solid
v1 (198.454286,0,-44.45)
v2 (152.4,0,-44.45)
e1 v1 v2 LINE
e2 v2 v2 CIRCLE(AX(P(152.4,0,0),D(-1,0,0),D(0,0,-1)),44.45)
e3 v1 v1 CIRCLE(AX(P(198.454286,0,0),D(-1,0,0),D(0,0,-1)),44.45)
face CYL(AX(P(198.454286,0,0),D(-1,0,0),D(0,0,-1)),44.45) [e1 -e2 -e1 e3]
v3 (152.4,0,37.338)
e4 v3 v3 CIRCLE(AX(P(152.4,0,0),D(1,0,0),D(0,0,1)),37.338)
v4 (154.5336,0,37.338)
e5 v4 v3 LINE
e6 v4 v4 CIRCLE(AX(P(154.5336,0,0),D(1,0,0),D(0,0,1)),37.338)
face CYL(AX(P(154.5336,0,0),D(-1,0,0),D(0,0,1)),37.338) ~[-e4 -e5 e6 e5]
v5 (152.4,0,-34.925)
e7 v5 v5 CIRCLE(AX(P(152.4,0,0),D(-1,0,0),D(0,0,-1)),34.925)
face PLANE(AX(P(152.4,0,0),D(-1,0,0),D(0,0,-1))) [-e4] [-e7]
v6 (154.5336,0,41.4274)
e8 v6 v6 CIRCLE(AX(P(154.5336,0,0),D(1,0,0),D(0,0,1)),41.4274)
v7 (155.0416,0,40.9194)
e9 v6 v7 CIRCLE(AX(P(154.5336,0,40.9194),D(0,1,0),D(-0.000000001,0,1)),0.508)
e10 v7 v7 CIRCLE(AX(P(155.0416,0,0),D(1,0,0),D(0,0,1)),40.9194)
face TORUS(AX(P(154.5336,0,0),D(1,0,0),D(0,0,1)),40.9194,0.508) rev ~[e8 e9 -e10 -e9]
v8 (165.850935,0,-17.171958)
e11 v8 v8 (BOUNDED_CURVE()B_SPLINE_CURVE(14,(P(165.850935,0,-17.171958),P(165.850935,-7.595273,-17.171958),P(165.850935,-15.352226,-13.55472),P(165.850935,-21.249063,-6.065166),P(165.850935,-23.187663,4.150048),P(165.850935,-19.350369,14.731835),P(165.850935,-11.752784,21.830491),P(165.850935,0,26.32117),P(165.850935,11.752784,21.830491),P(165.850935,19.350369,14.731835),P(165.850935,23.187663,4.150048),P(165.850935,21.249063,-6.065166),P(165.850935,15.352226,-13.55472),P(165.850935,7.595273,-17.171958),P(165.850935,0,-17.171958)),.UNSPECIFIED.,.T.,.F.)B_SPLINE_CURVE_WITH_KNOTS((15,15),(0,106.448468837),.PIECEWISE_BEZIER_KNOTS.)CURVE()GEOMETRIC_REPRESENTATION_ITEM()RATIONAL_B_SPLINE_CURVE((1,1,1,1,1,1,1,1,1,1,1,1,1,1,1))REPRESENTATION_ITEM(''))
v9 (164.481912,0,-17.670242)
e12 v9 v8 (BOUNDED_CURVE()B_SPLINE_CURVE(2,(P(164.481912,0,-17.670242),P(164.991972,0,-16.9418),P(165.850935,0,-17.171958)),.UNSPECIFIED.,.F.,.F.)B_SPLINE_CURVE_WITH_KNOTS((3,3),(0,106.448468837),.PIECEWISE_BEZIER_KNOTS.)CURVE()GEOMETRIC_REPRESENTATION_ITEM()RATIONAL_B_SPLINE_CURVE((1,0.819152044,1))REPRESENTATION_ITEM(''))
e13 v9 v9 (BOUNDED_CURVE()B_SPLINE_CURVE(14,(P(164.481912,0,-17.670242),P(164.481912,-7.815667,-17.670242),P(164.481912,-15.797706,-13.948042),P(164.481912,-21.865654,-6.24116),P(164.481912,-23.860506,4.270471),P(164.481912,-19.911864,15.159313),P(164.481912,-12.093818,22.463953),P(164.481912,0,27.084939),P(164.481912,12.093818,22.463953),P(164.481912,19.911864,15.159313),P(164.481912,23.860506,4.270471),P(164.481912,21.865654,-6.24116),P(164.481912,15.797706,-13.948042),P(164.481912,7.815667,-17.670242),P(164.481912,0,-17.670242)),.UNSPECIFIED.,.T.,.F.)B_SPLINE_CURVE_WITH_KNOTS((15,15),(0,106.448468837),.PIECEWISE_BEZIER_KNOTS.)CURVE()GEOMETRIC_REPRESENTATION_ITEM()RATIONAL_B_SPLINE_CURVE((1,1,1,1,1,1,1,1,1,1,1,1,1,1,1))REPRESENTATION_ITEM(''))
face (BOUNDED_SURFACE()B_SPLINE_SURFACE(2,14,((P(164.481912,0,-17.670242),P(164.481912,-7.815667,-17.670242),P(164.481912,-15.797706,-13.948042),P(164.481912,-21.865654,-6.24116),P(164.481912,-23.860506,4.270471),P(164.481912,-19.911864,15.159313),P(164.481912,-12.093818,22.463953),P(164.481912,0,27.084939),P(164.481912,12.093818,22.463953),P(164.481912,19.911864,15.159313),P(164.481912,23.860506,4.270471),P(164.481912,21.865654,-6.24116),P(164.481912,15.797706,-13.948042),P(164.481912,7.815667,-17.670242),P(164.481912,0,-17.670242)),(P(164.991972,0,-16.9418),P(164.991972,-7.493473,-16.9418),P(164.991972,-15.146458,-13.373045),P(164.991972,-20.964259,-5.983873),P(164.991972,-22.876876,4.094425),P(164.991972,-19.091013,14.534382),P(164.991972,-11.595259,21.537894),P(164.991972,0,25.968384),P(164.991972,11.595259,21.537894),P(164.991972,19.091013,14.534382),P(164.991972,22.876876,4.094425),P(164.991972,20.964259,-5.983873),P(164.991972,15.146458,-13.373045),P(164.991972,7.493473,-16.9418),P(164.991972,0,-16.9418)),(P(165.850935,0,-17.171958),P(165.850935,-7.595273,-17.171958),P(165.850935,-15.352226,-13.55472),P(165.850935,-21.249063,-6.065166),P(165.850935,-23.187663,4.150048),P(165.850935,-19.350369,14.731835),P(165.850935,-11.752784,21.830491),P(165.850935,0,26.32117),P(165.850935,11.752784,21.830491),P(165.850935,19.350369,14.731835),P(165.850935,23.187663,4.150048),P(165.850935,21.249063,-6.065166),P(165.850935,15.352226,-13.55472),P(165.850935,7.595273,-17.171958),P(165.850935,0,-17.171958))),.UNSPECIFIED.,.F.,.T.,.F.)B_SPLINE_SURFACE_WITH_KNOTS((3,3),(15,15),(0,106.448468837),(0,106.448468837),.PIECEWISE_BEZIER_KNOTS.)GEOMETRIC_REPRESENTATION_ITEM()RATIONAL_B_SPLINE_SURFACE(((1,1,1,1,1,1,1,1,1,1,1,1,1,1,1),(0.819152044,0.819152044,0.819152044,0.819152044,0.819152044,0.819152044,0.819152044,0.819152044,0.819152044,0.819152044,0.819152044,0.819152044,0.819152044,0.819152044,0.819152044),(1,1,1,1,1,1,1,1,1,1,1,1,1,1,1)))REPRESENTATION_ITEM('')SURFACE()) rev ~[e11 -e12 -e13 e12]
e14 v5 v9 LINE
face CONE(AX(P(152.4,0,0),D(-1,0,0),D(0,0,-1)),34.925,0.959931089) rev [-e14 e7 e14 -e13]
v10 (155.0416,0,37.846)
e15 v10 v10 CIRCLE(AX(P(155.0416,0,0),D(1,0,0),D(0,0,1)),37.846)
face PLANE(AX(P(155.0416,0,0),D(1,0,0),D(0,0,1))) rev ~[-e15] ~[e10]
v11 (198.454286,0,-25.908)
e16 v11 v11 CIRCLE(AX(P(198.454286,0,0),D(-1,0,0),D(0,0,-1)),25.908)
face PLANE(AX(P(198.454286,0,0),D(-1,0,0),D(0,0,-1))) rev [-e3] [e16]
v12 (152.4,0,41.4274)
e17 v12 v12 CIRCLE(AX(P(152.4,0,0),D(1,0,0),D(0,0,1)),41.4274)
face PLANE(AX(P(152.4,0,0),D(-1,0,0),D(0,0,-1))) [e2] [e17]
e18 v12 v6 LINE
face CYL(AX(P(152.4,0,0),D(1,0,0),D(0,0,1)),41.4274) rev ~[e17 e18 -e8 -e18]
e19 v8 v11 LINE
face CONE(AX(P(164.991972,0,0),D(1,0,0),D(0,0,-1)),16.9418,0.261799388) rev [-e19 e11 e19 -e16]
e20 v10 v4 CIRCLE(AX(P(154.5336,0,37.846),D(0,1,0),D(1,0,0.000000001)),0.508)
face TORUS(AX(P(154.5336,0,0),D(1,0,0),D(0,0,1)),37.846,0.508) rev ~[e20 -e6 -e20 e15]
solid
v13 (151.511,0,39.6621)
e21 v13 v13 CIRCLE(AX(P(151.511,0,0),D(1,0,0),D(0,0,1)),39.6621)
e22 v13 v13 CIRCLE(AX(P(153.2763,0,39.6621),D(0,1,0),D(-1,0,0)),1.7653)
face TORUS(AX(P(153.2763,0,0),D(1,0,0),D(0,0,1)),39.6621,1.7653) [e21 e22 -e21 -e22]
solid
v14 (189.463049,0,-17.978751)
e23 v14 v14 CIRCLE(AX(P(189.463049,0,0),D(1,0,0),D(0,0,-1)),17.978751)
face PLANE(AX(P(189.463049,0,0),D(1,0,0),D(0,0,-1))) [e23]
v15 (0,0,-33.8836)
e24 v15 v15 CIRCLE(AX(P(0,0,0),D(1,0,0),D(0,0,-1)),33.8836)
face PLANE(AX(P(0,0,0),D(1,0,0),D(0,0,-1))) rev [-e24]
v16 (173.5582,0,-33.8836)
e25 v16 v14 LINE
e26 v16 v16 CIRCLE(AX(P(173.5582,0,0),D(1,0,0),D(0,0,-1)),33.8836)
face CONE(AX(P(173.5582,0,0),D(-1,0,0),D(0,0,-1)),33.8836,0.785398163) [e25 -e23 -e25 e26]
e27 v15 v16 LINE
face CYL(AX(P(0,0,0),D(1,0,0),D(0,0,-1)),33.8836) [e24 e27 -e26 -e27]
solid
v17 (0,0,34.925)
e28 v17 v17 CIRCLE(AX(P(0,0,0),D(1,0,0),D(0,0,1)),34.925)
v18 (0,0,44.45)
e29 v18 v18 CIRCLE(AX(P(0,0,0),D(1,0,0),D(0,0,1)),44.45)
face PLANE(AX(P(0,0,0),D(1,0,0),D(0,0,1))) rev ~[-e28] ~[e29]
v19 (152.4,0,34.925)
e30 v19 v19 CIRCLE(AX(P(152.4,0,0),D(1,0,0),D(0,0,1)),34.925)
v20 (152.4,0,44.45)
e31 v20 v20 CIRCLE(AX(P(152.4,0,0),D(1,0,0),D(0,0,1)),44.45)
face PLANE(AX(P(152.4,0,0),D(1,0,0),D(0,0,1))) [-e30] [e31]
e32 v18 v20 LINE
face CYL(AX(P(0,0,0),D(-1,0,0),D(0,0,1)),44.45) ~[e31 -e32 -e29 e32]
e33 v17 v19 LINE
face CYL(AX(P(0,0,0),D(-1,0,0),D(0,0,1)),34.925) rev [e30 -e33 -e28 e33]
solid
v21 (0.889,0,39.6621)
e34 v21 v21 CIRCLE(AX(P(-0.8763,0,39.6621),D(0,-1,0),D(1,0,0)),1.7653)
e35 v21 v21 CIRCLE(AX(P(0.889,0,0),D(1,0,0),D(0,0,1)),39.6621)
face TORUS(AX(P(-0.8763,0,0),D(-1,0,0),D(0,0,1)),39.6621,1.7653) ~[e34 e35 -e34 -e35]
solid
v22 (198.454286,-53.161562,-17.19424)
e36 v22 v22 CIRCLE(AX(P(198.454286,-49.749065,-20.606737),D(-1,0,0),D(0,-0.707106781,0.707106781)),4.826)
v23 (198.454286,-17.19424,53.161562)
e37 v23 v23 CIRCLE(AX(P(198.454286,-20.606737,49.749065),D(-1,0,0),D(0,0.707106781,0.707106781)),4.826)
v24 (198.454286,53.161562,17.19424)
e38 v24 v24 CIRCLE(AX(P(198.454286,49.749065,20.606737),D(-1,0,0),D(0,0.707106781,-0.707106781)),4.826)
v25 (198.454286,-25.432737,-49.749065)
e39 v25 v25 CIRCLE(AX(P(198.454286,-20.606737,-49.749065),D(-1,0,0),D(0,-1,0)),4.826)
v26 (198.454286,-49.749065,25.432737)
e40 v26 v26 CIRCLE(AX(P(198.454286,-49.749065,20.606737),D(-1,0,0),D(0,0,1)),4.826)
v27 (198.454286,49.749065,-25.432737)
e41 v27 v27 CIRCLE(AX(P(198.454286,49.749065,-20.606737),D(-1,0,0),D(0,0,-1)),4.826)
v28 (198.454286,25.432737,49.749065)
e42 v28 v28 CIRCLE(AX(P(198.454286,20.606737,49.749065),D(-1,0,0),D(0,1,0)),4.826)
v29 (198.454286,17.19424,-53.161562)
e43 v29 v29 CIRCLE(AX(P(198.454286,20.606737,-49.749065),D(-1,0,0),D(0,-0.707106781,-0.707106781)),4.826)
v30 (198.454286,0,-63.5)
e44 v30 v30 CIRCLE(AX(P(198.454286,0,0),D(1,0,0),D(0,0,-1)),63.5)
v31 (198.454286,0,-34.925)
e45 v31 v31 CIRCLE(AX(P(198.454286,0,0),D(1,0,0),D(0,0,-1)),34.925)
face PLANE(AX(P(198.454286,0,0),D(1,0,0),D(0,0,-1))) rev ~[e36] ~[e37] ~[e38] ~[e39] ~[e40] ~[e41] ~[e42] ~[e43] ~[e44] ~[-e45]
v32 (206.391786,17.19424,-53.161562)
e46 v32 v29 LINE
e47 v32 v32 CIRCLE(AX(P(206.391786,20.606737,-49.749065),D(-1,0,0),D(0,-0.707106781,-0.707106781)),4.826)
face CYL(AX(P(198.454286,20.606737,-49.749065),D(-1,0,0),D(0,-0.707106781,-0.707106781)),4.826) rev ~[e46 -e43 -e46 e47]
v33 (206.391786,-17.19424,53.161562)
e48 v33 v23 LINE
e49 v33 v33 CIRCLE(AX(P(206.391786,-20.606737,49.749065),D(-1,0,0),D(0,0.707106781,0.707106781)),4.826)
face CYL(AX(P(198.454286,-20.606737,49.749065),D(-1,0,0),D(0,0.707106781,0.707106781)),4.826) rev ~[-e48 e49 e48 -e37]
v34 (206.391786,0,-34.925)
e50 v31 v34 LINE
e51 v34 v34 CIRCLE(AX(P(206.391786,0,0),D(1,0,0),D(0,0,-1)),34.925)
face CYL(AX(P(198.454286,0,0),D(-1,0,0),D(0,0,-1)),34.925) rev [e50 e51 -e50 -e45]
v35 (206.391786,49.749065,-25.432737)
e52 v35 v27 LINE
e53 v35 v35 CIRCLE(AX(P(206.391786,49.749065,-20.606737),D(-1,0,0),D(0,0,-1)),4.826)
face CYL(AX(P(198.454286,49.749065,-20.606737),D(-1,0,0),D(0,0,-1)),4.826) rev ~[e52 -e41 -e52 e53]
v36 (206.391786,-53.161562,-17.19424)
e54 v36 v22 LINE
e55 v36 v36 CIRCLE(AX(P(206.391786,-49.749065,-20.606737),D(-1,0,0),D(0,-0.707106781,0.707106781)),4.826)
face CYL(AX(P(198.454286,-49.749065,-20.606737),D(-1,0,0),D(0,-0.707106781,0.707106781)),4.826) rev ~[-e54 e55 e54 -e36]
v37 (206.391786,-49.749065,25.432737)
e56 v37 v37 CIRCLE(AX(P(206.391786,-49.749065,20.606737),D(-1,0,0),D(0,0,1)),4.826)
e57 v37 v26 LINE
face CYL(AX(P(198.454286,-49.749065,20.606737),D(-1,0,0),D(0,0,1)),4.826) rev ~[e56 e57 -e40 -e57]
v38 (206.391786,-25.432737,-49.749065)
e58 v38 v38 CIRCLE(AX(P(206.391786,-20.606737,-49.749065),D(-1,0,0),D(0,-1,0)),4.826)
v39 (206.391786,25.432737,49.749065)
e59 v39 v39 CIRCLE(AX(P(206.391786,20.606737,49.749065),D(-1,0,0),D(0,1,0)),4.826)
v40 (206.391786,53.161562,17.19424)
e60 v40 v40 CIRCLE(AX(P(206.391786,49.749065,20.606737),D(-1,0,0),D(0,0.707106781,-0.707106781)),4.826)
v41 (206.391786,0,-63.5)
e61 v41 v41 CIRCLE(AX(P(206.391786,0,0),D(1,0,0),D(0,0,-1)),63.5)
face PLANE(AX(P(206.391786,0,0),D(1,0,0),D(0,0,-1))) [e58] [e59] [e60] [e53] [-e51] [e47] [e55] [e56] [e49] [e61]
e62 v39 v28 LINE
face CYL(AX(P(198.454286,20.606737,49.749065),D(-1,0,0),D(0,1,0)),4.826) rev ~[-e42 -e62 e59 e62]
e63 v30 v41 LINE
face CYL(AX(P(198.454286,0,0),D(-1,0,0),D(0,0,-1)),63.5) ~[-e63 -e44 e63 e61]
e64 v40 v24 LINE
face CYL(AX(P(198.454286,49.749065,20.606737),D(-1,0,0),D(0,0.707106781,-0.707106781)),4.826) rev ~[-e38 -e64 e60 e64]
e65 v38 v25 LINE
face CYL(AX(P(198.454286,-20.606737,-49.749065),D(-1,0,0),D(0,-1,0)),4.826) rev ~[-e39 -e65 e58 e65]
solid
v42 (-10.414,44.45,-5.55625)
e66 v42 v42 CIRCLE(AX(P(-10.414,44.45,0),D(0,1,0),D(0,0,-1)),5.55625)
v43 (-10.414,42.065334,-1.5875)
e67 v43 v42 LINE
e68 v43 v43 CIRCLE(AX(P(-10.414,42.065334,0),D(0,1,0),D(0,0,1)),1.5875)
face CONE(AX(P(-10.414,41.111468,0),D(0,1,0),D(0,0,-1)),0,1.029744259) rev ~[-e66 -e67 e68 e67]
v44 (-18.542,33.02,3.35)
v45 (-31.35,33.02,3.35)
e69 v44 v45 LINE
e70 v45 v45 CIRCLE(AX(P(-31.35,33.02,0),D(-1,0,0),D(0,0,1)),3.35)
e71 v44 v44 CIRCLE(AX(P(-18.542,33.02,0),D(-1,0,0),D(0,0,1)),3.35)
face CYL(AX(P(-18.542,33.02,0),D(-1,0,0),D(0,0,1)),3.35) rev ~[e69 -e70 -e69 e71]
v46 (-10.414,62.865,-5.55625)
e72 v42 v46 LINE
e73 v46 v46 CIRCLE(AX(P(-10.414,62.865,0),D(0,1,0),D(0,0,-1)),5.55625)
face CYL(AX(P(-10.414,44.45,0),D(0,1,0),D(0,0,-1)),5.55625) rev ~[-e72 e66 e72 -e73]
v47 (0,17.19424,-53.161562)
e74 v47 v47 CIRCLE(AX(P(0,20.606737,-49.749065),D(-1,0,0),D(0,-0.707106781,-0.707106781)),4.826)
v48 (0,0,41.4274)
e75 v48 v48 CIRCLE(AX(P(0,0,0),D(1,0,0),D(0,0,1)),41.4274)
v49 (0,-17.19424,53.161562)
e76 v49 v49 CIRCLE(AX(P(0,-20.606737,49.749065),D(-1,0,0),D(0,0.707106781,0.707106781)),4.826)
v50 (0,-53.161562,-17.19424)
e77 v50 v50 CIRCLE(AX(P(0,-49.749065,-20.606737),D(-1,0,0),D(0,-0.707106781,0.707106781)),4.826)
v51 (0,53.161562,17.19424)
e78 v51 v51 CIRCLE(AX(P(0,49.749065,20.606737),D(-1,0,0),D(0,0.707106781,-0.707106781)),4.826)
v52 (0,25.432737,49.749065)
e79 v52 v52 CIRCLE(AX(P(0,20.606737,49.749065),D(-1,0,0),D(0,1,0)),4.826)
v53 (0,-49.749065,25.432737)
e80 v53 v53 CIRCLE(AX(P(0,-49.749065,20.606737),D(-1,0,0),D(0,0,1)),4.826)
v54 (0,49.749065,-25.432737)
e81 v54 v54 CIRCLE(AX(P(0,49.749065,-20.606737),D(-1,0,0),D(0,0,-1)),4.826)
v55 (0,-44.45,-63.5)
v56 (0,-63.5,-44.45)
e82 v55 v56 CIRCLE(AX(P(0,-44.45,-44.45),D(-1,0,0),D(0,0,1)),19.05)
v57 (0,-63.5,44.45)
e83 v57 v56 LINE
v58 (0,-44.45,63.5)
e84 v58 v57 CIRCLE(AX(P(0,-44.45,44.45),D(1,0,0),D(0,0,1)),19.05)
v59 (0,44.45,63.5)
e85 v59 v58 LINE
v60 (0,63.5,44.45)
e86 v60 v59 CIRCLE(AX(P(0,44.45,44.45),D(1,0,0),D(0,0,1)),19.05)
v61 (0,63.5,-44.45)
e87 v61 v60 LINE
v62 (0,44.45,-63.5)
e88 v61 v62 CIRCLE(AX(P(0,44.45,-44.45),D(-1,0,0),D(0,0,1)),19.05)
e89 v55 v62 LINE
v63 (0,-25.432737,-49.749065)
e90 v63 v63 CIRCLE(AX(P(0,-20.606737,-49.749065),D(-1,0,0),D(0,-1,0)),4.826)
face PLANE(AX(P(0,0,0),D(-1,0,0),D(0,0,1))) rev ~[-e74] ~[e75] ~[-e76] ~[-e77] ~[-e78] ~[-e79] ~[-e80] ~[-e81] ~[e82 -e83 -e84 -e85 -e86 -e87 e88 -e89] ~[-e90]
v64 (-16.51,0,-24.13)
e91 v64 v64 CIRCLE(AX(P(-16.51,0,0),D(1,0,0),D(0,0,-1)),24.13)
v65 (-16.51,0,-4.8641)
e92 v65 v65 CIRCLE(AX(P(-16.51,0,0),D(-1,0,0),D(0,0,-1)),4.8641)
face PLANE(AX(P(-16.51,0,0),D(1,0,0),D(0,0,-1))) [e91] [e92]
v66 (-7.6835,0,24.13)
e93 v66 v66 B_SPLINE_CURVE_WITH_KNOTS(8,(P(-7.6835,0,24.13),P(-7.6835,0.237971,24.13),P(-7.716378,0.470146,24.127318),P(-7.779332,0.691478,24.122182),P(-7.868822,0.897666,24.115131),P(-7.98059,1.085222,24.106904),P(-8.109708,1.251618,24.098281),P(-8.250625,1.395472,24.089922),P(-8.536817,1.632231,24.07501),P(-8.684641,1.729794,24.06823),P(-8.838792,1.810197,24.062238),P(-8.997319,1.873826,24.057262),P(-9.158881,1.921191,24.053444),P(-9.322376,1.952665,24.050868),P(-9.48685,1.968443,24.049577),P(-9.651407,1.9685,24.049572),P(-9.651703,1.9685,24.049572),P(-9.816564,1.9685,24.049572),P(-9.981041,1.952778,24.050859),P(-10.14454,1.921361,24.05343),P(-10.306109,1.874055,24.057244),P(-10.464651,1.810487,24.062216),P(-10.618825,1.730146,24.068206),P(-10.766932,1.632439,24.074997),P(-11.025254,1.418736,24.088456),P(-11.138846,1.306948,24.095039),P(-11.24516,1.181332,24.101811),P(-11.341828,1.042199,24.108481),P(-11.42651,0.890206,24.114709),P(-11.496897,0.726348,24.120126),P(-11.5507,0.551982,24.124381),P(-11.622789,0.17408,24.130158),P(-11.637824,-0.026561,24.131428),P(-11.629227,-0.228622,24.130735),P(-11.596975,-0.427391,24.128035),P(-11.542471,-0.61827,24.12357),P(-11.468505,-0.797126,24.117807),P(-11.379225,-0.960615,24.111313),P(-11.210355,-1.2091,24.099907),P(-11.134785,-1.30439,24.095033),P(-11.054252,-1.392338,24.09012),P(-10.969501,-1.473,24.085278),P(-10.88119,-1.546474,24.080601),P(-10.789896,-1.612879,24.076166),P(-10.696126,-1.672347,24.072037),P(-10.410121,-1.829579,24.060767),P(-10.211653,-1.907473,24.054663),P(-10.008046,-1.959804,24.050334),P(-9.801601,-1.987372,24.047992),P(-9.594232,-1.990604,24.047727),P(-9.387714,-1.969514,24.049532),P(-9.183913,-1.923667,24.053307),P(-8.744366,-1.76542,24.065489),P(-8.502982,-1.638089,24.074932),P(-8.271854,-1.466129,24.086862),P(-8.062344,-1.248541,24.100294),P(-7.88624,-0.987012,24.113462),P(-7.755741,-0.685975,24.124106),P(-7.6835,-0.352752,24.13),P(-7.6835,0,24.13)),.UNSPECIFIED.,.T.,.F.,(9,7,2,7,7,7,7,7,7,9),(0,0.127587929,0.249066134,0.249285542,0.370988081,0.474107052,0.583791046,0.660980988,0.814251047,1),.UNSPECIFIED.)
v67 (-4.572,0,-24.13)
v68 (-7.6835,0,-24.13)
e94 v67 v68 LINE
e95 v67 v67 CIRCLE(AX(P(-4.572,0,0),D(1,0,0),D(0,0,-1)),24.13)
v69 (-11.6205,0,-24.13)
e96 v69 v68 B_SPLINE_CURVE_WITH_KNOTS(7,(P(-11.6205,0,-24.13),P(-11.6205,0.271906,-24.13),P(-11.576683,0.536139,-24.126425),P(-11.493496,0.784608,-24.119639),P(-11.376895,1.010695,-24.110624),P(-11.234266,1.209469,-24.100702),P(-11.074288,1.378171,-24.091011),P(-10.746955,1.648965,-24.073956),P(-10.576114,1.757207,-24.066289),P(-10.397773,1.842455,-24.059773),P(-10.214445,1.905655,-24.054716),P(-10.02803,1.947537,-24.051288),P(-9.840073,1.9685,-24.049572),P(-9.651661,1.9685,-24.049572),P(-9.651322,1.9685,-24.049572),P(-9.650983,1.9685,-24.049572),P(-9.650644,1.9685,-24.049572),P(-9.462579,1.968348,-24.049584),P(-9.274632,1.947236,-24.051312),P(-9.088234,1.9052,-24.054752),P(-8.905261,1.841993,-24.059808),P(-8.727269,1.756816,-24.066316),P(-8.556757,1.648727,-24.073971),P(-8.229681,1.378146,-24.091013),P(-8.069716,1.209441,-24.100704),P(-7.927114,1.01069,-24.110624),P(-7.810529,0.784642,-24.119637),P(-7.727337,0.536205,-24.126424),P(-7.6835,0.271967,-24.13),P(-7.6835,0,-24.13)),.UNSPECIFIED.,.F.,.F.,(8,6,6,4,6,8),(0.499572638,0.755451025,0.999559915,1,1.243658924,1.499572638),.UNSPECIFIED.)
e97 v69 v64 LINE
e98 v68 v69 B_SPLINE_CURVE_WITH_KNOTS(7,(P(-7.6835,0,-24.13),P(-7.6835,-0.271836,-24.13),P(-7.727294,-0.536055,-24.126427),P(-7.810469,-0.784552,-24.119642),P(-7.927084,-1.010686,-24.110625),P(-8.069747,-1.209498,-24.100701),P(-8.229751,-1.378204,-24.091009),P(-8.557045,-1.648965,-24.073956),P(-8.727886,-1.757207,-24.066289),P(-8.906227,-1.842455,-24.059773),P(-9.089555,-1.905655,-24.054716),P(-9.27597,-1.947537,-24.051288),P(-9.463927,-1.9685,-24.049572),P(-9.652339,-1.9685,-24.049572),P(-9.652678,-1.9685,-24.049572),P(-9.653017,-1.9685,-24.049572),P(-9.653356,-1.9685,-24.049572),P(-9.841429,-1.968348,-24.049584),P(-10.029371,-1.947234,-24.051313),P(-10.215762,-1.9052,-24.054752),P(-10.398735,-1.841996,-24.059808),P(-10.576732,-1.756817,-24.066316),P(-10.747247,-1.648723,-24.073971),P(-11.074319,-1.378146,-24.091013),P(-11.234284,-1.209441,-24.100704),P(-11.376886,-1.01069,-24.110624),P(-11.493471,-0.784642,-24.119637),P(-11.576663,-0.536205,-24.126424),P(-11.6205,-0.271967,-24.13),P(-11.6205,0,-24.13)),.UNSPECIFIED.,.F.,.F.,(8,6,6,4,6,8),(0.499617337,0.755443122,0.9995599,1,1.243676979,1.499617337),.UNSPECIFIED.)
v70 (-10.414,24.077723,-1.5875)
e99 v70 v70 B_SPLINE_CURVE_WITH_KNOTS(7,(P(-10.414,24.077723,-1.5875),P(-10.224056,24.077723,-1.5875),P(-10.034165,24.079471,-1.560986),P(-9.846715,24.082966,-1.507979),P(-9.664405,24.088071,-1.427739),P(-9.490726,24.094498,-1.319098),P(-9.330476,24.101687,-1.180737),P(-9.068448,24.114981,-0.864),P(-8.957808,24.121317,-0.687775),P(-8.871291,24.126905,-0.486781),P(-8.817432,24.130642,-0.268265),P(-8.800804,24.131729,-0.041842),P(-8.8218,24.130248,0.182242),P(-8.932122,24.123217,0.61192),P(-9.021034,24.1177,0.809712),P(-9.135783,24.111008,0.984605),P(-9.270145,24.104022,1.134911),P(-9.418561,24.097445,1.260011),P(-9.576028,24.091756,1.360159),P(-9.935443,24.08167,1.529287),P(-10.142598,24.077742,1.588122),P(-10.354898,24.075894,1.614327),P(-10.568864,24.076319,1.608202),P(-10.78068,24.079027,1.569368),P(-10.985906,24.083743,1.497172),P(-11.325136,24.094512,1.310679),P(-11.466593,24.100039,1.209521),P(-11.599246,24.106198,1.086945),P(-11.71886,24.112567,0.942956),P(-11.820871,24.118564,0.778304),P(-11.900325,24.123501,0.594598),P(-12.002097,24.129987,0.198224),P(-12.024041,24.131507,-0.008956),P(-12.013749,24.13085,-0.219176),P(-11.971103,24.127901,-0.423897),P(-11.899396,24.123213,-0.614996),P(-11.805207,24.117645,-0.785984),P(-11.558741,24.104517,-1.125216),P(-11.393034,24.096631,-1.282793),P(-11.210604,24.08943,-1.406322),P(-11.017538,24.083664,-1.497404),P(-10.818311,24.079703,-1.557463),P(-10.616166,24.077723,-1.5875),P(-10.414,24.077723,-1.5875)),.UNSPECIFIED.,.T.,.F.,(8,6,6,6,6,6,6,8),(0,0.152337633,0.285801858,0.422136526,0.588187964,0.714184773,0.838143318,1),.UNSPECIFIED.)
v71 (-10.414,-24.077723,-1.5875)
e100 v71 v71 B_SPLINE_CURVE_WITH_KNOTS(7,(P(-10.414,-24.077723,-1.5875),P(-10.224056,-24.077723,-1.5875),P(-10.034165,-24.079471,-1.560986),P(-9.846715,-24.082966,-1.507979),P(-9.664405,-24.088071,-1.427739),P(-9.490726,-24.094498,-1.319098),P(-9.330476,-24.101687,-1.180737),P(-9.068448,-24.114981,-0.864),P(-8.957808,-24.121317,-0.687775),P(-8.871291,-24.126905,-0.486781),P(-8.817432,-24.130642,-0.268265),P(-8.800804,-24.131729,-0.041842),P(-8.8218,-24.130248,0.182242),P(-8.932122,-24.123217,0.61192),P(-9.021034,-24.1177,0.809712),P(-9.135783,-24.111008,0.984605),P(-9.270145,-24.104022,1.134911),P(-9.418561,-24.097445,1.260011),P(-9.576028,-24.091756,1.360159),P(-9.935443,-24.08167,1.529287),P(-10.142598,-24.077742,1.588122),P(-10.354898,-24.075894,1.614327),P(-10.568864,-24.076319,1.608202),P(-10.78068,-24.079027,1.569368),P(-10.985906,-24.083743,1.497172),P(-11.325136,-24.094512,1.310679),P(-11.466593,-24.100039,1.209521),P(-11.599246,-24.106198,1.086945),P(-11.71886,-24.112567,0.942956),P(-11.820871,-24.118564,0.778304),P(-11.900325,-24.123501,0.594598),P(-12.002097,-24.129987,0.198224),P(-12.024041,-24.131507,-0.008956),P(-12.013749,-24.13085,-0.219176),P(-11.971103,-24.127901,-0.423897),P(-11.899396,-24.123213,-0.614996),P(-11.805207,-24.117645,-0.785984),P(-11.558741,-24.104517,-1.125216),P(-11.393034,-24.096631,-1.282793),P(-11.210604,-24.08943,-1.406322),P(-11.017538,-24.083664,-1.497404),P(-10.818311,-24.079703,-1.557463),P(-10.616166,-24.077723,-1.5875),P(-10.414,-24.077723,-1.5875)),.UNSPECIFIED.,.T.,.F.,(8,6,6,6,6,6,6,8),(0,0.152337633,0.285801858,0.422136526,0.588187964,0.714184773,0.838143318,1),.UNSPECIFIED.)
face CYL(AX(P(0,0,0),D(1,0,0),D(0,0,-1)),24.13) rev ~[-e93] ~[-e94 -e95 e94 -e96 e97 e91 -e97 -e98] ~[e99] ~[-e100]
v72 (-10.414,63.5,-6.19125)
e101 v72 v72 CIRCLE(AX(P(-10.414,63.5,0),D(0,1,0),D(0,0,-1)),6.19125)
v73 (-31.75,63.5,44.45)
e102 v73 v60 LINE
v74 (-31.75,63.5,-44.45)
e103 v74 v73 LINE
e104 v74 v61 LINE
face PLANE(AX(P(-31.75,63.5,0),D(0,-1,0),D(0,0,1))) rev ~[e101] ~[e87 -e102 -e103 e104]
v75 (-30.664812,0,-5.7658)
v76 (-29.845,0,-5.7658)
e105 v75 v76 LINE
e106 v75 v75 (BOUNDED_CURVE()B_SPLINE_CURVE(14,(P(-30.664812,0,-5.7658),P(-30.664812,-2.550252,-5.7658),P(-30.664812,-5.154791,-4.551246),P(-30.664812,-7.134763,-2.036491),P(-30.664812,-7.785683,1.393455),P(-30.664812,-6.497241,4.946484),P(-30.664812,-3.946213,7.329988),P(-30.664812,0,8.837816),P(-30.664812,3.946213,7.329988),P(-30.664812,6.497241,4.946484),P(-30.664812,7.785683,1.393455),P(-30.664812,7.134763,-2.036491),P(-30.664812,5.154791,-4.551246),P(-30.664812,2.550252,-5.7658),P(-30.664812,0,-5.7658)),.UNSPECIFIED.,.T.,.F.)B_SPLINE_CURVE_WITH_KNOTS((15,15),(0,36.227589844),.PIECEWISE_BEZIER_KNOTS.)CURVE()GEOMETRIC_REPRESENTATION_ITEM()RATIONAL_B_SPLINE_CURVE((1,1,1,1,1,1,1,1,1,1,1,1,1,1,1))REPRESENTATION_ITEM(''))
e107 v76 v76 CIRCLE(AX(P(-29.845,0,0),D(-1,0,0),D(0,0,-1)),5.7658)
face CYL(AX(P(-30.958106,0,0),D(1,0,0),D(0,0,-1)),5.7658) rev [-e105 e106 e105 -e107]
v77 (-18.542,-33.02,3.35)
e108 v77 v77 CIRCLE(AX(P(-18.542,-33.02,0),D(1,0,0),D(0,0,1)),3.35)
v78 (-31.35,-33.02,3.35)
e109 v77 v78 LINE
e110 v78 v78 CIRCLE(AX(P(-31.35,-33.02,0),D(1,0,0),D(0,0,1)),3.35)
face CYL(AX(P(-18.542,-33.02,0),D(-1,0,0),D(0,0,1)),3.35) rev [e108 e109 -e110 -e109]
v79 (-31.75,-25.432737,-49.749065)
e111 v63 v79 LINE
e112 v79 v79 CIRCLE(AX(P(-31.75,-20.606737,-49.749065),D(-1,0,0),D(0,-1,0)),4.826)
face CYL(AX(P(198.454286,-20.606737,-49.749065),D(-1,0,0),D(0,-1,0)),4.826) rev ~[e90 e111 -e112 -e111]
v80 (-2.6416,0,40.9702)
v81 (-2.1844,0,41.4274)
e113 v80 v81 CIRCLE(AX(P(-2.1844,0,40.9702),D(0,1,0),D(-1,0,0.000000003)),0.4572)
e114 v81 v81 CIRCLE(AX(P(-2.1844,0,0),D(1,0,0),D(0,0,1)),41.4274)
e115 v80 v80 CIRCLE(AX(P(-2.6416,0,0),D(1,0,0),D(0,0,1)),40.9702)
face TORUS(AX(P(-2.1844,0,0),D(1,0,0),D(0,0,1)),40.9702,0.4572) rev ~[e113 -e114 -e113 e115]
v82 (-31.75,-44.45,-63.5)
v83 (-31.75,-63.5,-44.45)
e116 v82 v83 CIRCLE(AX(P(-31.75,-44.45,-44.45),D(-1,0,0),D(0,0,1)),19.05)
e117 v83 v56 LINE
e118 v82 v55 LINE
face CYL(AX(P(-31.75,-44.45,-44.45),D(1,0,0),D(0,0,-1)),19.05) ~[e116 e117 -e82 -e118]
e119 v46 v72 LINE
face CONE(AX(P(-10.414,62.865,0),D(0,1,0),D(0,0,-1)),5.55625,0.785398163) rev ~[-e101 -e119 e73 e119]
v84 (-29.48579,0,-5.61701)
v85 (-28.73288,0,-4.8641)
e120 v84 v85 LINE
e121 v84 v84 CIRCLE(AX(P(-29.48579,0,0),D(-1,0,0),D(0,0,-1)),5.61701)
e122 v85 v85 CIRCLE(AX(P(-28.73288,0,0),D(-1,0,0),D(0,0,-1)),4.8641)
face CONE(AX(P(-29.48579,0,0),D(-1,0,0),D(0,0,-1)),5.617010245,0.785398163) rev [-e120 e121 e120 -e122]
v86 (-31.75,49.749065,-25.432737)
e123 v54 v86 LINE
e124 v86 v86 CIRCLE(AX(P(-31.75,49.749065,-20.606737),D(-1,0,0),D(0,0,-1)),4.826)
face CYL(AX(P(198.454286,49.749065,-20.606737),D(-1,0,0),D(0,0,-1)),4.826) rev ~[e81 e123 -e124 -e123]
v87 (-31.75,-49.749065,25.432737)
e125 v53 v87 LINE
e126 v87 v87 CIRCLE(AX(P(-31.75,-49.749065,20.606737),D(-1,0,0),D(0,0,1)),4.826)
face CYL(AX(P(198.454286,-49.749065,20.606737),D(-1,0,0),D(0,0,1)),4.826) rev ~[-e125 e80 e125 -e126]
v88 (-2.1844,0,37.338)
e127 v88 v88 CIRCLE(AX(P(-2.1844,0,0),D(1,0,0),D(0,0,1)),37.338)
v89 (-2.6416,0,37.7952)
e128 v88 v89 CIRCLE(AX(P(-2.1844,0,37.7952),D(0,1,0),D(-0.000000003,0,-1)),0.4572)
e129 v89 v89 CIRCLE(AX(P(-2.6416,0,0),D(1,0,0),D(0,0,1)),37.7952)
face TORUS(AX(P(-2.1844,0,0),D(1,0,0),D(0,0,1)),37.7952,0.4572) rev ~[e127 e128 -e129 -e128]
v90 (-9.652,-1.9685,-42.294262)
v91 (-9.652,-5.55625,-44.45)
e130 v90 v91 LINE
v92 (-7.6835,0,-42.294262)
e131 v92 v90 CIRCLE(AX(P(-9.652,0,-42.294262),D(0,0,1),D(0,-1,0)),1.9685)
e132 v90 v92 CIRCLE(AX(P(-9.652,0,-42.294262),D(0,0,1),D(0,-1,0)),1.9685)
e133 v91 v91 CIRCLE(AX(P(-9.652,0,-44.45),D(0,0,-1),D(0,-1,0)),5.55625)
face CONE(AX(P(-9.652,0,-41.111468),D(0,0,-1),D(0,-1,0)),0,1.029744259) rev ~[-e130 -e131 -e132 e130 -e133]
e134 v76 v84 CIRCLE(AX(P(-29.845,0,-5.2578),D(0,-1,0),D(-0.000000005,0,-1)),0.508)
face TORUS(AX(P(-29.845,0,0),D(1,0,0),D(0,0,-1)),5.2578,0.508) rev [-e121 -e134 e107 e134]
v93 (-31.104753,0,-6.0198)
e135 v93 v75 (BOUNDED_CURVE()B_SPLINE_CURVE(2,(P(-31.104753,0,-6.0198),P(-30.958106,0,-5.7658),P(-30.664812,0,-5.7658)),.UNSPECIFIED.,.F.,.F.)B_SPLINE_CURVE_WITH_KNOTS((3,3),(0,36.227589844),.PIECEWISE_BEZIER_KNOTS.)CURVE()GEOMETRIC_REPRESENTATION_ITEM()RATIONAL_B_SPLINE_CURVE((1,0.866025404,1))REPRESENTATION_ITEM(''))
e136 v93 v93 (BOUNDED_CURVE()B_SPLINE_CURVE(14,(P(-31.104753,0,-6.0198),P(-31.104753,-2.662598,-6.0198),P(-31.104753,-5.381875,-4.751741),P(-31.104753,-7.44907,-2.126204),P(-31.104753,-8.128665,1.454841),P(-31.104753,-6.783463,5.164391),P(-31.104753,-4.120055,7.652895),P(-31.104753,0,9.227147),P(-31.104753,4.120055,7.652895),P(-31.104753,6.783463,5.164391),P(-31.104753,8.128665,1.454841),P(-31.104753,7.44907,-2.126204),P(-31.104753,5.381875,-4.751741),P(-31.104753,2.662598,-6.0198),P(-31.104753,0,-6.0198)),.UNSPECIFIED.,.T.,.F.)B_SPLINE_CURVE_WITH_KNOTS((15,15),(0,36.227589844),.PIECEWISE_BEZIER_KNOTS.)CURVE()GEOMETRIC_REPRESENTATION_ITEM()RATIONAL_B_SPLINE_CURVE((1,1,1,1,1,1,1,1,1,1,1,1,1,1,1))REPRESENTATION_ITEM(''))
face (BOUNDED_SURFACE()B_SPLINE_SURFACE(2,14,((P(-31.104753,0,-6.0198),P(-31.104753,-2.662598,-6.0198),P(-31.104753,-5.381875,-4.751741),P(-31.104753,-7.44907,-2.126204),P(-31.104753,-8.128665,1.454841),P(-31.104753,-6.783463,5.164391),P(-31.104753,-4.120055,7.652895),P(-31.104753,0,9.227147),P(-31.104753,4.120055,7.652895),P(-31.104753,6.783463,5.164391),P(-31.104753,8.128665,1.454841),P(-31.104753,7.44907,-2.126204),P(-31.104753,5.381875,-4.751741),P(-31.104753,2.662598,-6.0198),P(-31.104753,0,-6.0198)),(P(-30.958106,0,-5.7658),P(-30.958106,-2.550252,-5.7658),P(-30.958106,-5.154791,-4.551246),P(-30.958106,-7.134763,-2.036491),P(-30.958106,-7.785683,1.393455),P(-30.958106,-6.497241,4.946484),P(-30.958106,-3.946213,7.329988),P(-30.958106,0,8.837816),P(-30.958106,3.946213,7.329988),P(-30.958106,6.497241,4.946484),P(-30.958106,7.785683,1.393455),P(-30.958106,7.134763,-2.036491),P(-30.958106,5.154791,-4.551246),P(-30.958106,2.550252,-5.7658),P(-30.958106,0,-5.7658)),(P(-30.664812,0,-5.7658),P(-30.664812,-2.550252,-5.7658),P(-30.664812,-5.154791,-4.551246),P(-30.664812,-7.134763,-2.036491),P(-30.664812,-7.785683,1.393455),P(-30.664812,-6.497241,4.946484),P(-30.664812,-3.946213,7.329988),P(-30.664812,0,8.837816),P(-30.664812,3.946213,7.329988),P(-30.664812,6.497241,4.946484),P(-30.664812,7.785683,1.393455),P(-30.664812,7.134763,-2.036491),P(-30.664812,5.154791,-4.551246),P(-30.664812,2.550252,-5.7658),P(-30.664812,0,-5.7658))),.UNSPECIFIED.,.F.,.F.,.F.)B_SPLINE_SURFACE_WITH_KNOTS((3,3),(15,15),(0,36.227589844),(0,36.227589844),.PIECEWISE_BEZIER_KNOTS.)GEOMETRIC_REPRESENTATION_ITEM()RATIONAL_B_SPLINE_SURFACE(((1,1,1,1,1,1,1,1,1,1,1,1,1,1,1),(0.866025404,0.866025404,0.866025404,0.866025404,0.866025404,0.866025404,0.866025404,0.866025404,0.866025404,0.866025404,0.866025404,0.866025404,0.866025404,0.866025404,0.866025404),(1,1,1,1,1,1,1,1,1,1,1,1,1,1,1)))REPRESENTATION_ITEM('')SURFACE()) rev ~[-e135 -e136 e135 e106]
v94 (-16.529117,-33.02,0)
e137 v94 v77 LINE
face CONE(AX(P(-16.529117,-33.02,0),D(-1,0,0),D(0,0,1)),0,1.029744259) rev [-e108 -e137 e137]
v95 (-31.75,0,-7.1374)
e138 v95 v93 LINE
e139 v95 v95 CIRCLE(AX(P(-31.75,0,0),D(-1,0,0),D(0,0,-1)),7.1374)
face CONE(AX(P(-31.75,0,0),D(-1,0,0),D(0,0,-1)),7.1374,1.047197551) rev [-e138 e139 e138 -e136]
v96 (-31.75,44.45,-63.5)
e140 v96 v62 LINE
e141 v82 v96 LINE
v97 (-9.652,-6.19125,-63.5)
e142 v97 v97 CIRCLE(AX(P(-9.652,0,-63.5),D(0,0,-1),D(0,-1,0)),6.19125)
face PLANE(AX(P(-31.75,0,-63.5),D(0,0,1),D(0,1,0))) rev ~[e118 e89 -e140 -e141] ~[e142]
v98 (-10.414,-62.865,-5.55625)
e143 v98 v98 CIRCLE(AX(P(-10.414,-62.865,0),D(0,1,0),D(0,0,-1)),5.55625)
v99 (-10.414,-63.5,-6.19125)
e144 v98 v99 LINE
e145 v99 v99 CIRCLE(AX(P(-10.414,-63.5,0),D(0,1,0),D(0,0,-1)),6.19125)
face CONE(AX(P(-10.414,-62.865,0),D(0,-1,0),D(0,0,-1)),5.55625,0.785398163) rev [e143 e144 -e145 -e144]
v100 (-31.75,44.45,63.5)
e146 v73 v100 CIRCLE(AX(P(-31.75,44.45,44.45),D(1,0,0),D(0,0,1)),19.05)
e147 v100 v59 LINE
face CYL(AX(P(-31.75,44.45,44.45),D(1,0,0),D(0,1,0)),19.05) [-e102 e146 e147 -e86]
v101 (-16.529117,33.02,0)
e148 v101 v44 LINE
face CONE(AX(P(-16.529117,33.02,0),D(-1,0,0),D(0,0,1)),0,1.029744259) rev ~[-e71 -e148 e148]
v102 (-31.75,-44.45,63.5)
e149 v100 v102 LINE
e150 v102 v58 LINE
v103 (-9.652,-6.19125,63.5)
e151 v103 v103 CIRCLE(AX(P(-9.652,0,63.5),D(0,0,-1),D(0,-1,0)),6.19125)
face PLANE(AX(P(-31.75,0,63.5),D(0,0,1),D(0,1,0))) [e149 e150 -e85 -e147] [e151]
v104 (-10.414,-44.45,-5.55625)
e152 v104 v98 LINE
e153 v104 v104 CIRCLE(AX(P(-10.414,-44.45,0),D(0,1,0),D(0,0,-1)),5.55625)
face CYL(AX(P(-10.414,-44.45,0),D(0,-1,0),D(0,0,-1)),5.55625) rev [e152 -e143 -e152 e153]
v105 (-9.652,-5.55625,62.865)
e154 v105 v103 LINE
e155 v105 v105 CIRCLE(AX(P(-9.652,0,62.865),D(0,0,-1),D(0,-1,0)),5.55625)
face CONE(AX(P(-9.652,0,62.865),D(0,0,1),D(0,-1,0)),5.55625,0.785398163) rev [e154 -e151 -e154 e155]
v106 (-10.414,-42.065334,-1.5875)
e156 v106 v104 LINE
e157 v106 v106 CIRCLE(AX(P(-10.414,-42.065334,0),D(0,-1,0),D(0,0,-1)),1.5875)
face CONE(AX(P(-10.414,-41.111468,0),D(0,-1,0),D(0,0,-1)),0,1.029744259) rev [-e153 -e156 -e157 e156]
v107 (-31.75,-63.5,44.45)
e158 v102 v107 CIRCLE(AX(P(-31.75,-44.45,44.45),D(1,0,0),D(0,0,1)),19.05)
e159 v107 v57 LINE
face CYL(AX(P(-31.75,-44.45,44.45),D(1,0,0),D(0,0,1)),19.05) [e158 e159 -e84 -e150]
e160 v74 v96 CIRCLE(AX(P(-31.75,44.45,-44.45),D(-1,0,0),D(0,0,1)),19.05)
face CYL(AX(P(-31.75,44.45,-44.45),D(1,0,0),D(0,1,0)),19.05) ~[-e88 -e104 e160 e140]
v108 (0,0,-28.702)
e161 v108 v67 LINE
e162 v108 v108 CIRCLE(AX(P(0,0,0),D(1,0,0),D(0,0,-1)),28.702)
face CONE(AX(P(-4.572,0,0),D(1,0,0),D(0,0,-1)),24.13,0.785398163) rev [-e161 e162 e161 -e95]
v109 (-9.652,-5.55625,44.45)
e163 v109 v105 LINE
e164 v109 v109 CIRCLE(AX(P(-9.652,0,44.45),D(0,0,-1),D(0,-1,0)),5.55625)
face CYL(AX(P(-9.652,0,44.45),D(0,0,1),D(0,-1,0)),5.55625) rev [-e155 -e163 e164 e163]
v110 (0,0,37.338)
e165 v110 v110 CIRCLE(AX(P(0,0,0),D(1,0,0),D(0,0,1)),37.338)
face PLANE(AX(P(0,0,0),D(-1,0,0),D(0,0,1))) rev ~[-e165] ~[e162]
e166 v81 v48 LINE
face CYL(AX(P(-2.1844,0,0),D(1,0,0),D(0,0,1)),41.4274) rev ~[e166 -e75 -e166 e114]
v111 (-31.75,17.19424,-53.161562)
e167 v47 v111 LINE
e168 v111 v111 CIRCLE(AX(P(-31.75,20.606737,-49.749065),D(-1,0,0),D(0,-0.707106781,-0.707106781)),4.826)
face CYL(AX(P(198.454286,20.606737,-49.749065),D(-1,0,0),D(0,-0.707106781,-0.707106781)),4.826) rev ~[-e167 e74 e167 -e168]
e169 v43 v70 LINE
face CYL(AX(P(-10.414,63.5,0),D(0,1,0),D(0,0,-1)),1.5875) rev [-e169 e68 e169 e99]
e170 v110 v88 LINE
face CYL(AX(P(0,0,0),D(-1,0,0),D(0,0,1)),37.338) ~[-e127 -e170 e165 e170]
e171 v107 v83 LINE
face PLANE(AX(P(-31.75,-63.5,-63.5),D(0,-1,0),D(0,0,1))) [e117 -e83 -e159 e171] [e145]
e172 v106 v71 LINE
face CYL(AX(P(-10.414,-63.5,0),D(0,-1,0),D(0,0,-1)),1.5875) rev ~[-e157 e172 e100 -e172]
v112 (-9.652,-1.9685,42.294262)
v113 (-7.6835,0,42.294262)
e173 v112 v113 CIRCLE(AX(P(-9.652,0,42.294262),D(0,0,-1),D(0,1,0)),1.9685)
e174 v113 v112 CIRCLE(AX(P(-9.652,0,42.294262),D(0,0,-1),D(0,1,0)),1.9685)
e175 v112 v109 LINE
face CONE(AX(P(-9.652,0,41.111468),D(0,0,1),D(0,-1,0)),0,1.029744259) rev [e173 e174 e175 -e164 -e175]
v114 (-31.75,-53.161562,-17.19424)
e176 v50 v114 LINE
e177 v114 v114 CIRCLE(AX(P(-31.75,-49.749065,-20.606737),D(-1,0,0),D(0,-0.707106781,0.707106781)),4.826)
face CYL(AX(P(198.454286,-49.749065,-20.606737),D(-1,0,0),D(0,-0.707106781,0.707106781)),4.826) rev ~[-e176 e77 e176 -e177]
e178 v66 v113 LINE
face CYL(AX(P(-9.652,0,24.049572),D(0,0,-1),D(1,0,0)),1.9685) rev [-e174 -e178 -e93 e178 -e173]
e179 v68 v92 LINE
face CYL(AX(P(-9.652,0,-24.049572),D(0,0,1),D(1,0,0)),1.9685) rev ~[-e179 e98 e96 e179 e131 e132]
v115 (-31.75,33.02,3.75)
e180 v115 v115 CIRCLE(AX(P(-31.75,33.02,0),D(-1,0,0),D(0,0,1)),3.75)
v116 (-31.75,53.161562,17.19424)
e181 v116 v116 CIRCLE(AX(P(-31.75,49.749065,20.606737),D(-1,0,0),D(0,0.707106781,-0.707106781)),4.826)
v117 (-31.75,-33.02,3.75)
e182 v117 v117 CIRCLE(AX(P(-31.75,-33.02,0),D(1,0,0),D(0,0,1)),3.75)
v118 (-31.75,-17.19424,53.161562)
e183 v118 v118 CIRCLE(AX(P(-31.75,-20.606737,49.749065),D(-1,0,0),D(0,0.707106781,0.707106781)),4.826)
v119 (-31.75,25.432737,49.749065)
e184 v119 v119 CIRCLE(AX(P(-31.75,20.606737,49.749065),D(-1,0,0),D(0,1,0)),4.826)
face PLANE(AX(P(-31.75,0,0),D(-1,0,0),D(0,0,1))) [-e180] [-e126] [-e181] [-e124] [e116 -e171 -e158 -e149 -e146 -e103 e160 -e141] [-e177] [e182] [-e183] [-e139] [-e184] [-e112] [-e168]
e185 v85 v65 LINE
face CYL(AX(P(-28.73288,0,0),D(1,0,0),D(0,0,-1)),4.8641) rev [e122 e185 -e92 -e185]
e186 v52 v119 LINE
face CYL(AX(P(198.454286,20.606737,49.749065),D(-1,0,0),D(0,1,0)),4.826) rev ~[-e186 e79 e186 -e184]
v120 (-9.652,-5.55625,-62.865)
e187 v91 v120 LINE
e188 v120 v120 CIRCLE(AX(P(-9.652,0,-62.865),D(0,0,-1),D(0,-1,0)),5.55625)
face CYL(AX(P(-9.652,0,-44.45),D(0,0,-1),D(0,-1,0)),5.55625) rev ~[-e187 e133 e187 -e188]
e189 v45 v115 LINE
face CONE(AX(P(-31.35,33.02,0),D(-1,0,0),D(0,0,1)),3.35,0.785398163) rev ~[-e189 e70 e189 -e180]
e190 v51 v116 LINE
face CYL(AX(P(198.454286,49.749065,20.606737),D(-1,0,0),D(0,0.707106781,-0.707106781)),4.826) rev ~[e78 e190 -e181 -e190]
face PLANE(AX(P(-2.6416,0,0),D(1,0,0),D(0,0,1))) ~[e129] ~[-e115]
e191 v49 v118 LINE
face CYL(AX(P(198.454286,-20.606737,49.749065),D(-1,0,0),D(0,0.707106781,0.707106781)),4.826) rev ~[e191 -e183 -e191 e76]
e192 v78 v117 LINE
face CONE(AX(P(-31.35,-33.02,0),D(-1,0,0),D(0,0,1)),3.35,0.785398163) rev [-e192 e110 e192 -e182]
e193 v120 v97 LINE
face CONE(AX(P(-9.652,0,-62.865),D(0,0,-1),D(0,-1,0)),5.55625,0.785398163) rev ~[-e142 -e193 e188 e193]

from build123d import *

# Parameters (mm, degrees)
FILLET1_R               = 1.27
CUT_EXTRUDE1_REACH      = 243.296
SKETCH2_R               = 3.81
CIRPATTERN1_COUNT       = 8
SKETCH4_R               = 63.5
BOSS_EXTRUDE1_DEPTH     = 31.75
SKETCH11_W              = 127
SKETCH11_H              = 127
SKETCH11_R              = 63.5
BOSS_EXTRUDE2_DEPTH     = 31.75
SKETCH12_R              = 24.13
CUT_EXTRUDE4_DEPTH      = 16.51
CUT_EXTRUDE5_START      = -39.450428
SKETCH13_R              = 1.9685
CUT_EXTRUDE5_DEPTH      = 39.450428
CHAMFER1_SIZE           = 4.572
FILLET2_R               = 0.889
FILLET3_R               = 0.508
CUT_EXTRUDE9_REACH      = 267.18
CUT_EXTRUDE9_END_RADIUS = 24.13
SKETCH31_R              = 1.5875
SKETCH33_R              = 44.45
SKETCH33_R_2            = 34.925
BOSS_EXTRUDE4_DEPTH     = 152.4
FILLET5_R               = 1.27
FILLET6_R               = 19.05
SKETCH39_R              = 63.5
SKETCH39_R_2            = 34.925
BOSS_EXTRUDE6_DEPTH     = 7.9375
SKETCH40_R              = 4.826
CUT_EXTRUDE13_DEPTH     = 248.100209245
CIRPATTERN3_COUNT       = 8
SKETCH44_R              = 1.7653


with BuildPart() as part:
    # Chamber Revolve → Revolve1 (revolve)
    with BuildSketch(Plane.XY, mode=Mode.PRIVATE) as revolve1_sk:
        with BuildLine():
            Line((223.962313951, 63.5), (223.962313951, 25.908))
            Line((223.962313951, 25.908), (191.916500941, 17.321350283))
            ThreePointArc((191.916500941, 17.321350283), (190.601700192, 17.321350283), (189.463049342, 17.978750658))
            Line((189.463049342, 17.978750658), (173.5582, 33.8836))
            Line((173.5582, 33.8836), (0, 33.8836))
            Line((0, 33.8836), (0, 42.5196))
            Line((0, 42.5196), (3.8608, 42.5196))
            Line((3.8608, 42.5196), (3.8608, 48.5902))
            Line((3.8608, 48.5902), (0, 48.5902))
            Line((0, 48.5902), (0, 63.5))
            Line((0, 63.5), (10.16, 63.5))
            Line((10.16, 63.5), (10.16, 47.5996))
            Line((10.16, 47.5996), (24.13, 47.5996))
            Line((24.13, 47.5996), (24.13, 63.5))
            Line((24.13, 63.5), (223.962313951, 63.5))
        make_face()
    revolve(revolve1_sk.sketch.rotate(Axis((0, 0, 0), (1, 0, 0)), 90), axis=Axis((0, 0, 0), (1, 0, 0)))

    # Fillet1
    fillet1_edges = [part.edges().sort_by_distance(p)[0] for p in [
        (24.13, 0, -47.5996),
        (10.16, 0, -47.5996),
    ]]
    fillet(fillet1_edges, radius=FILLET1_R)

    # Sketch2 → Cut-Extrude1 (cut, up to next)
    with BuildSketch(Plane.ZY, mode=Mode.PRIVATE) as cut_extrude1_sk1:
        with Locations((-21.773156568, 52.565049882)):
            Circle(SKETCH2_R)
    cut_extrude1_tool1 = extrude(cut_extrude1_sk1.sketch, amount=-CUT_EXTRUDE1_REACH, mode=Mode.PRIVATE) & part.part
    cut_extrude1 = cut_extrude1_tool1.solids().sort_by_distance((0, 52.56505, -21.773157))[0]
    add(cut_extrude1, mode=Mode.SUBTRACT)

    # CirPattern1: Cut-Extrude1 ×8 about axis
    cirpattern1_axis = Axis((0, 0, 0), (1, 0, 0))
    for i in range(1, CIRPATTERN1_COUNT):
        add(cut_extrude1.rotate(cirpattern1_axis, i * 360 / CIRPATTERN1_COUNT), mode=Mode.SUBTRACT)

    # Fillet2
    fillet2_edges = [part.edges().sort_by_distance(p)[0] for p in [
        (3.8608, 0, -42.5196),
        (3.8608, 0, -48.5902),
    ]]
    fillet(fillet2_edges, radius=FILLET2_R)


with BuildPart() as body_2:
    # Sketch4 → Boss-Extrude1 (new body)
    with BuildSketch(Plane.ZY):
        Circle(SKETCH4_R)
    extrude(amount=BOSS_EXTRUDE1_DEPTH)


with BuildPart() as boss_extrude2_tool:
    # Sketch11 → Boss-Extrude2 (new body)
    with BuildSketch(Plane.ZY.offset(31.75)):
        Rectangle(SKETCH11_W, SKETCH11_H)
        Circle(SKETCH11_R, mode=Mode.SUBTRACT)
    extrude(amount=-BOSS_EXTRUDE2_DEPTH)


with BuildPart() as body_2_1:
    add(body_2.part)


with BuildPart() as body_2_2:
    # Boss-Extrude2: joined with boss_extrude2_tool
    add(body_2_1.part.fuse(boss_extrude2_tool.part, tol=0.00001))


with BuildPart() as boss_extrude2_kept_piece:
    # of the separate pieces the step leaves, the one the design keeps (boss_extrude2_pieces_kept)
    add(body_2_2.part.solids().sort_by_distance((-31.75, -63.5, 63.5))[0])

    # Sketch12 → Cut-Extrude4 (cut)
    with BuildSketch(Plane(origin=(0, 0, 0), x_dir=(0, 0, -1), z_dir=(1, 0, 0))):
        Circle(SKETCH12_R)
    extrude(amount=-CUT_EXTRUDE4_DEPTH, mode=Mode.SUBTRACT)

    # Sketch13 → Cut-Extrude5 (cut)
    with BuildSketch(Plane.XY.offset(63.5).offset(CUT_EXTRUDE5_START)):
        with Locations((-9.652, 0)):
            Circle(SKETCH13_R)
    cut_extrude5 = extrude(amount=CUT_EXTRUDE5_DEPTH, mode=Mode.SUBTRACT)

    # Chamfer1
    chamfer1_edges = [boss_extrude2_kept_piece.edges().sort_by_distance(p)[0] for p in [
        (0, 0, 24.13),
    ]]
    chamfer(chamfer1_edges, length=CHAMFER1_SIZE)

    # Sketch20 → 7/16 (0.4375) Diameter Hole1 (revolve, cut)
    with BuildSketch(Plane(origin=(-9.652, 0, 63.5), x_dir=(0, -1, 0), z_dir=(1, 0, 0))):
        Polygon((0, 0), (0, 22.388531814), (5.55625, 19.05), (5.55625, 0.635), (6.19125, 0), align=None)
    f_7_16_0_4375_diameter_hole1 = revolve(axis=Axis((-9.652, 0, 69.85), (0, 0, -1)), mode=Mode.SUBTRACT)

    # Mirror1: Cut-Extrude5, 7/16 (0.4375) Diameter Hole1 across plane
    add(cut_extrude5.mirror(Plane.XY), mode=Mode.SUBTRACT)
    add(f_7_16_0_4375_diameter_hole1.mirror(Plane.XY), mode=Mode.SUBTRACT)

    # Sketch23 → Ø6.7 (6.7) Diameter Hole1 (revolve, cut)
    with BuildSketch(Plane(origin=(-31.75, -33.02, 0), x_dir=(0, 0, 1), z_dir=(0, 1, 0))):
        Polygon((0, 0), (0, 15.220883074), (3.35, 13.208), (3.35, 0.4), (3.75, 0), align=None)
    f_6_7_6_7_diameter_hole1 = revolve(axis=Axis((-38.1, -33.02, 0), (1, 0, 0)), mode=Mode.SUBTRACT)

    # Mirror2: Ø6.7 (6.7) Diameter Hole1 across plane
    add(f_6_7_6_7_diameter_hole1.mirror(Plane.ZX), mode=Mode.SUBTRACT)

    # Sketch24 → Cut-Revolve1 (revolve, cut)
    with BuildSketch(Plane(origin=(0, 0, 0), x_dir=(1, 0, 0), z_dir=(0, 1, 0))):
        with BuildLine():
            Line((-31.75, 7.1374), (-30.958106371, 5.7658))
            Line((-30.958106371, 5.7658), (-29.845, 5.7658))
            ThreePointArc((-29.845, 5.7658), (-29.650596816, 5.727130803), (-29.485789755, 5.617010245))
            Line((-29.485789755, 5.617010245), (-28.73287951, 4.8641))
            Line((-28.73287951, 4.8641), (-16.51, 4.8641))
            Line((-16.51, 4.8641), (-16.51, 0))
            Line((-16.51, 0), (-31.75, 0))
            Line((-31.75, 0), (-31.75, 7.1374))
        make_face()
    revolve(axis=Axis((223.962313951, 0, 0), (-1, 0, 0)), mode=Mode.SUBTRACT)

    # Fillet3
    fillet3_edges = [boss_extrude2_kept_piece.edges().sort_by_distance(p)[0] for p in [
        (-30.958106371, 0, 5.7658),
    ]]
    fillet(fillet3_edges, radius=FILLET3_R)

    # Sketch30 → 7/16 (0.4375) Diameter Hole2 (revolve, cut)
    with BuildSketch(Plane(origin=(-10.414, -63.5, 0), x_dir=(0, 0, -1), z_dir=(1, 0, 0))):
        Polygon((0, 0), (0, 22.388531814), (5.55625, 19.05), (5.55625, 0.635), (6.19125, 0), align=None)
    f_7_16_0_4375_diameter_hole2 = revolve(axis=Axis((-10.414, -69.85, 0), (0, 1, 0)), mode=Mode.SUBTRACT)

    # Cut-Extrude9: up to this cylinder (the profile starts outside it)
    cut_extrude9_end = Plane(origin=(-10.414, 0, 0), z_dir=(1, 0, 0)) * Cylinder(CUT_EXTRUDE9_END_RADIUS, 583.62, mode=Mode.PRIVATE)
    # Sketch31 → Cut-Extrude9 (cut, up to the surface)
    with BuildSketch(Plane.XZ.offset(63.5), mode=Mode.PRIVATE) as cut_extrude9_sk1:
        with Locations(Location((-10.414, 0, 0), (0, 0, 270))):
            Circle(SKETCH31_R)
    cut_extrude9_tool1 = extrude(cut_extrude9_sk1.sketch, amount=-CUT_EXTRUDE9_REACH, mode=Mode.PRIVATE) - cut_extrude9_end
    cut_extrude9 = cut_extrude9_tool1.solids().sort_by_distance((-10.414, -63.5, 0))[0]
    add(cut_extrude9, mode=Mode.SUBTRACT)

    # Mirror3: 7/16 (0.4375) Diameter Hole2, Cut-Extrude9 across plane
    add(f_7_16_0_4375_diameter_hole2.mirror(Plane.ZX), mode=Mode.SUBTRACT)
    add(cut_extrude9.mirror(Plane.ZX), mode=Mode.SUBTRACT)

    # Fillet6
    fillet6_edges = [boss_extrude2_kept_piece.edges().sort_by_distance(p)[0] for p in [
        (-15.875, -63.5, 63.5),
        (-15.875, 63.5, 63.5),
        (-15.875, -63.5, -63.5),
        (-15.875, 63.5, -63.5),
    ]]
    fillet(fillet6_edges, radius=FILLET6_R)


with BuildPart() as body_3:
    # Sketch21 → Revolve2 (revolve)
    with BuildSketch(Plane(origin=(0, 0, 0), x_dir=(1, 0, 0), z_dir=(0, 1, 0))):
        Polygon((0, 33.8836), (173.5582, 33.8836), (189.463049342, 17.978750658), (189.463049342, 0), (0, 0), align=None)
    revolve(axis=Axis((189.463049342, 0, 0), (1, 0, 0)))


with BuildPart() as body_3_2:
    # Sketch33 → Boss-Extrude4 (new body)
    with BuildSketch(Plane(origin=(0, 0, 0), x_dir=(0, 0, -1), z_dir=(1, 0, 0))):
        with Locations(Location((0, 0, 0), (0, 0, 180))):
            Circle(SKETCH33_R)
        with Locations(Location((0, 0, 0), (0, 0, 180))):
            Circle(SKETCH33_R_2, mode=Mode.SUBTRACT)
    extrude(amount=BOSS_EXTRUDE4_DEPTH)


with BuildPart() as body_4:
    # Sketch34 → Revolve3 (revolve)
    with BuildSketch(Plane.XY, mode=Mode.PRIVATE) as revolve3_sk:
        Polygon((152.4, 44.45), (152.4, 34.925), (164.991972201, 16.9418), (198.454286152, 25.908), (198.454286152, 44.45), align=None)
    revolve(revolve3_sk.sketch.rotate(Axis((152.4, 0, 0), (-1, 0, 0)), 90), axis=Axis((152.4, 0, 0), (-1, 0, 0)))

    # Fillet5
    fillet5_edges = [body_4.edges().sort_by_distance(p)[0] for p in [
        (164.991972201, 0, 16.9418),
    ]]
    fillet(fillet5_edges, radius=FILLET5_R)

    # Sketch45 → Cut-Revolve3 (revolve, cut)
    with BuildSketch(Plane.XY, mode=Mode.PRIVATE) as cut_revolve3_sk:
        with BuildLine():
            Line((152.4, 41.4274), (154.5336, 41.4274))
            ThreePointArc((154.5336, 41.4274), (154.892810245, 41.278610245), (155.0416, 40.9194))
            Line((155.0416, 40.9194), (155.0416, 37.846))
            ThreePointArc((155.0416, 37.846), (154.892810245, 37.486789755), (154.5336, 37.338))
            Line((154.5336, 37.338), (152.4, 37.338))
            Line((152.4, 37.338), (152.4, 41.4274))
        make_face()
    revolve(cut_revolve3_sk.sketch.rotate(Axis((0, 0, 0), (1, 0, 0)), 90), axis=Axis((0, 0, 0), (1, 0, 0)), mode=Mode.SUBTRACT)


with BuildPart() as body_5:
    # Sketch39 → Boss-Extrude6 (new body)
    with BuildSketch(Plane(origin=(198.454286152, 0, 0), x_dir=(0, 0, -1), z_dir=(1, 0, 0))):
        Circle(SKETCH39_R)
        Circle(SKETCH39_R_2, mode=Mode.SUBTRACT)
    extrude(amount=BOSS_EXTRUDE6_DEPTH)


with BuildPart() as cut_extrude13_tool:
    # Sketch40 → Cut-Extrude13 (new, symmetric)
    with BuildSketch(Plane.ZY.offset(-198.454286152)):
        with Locations(Location((-20.606737466, 49.749065067, 0), (0, 0, 180))):
            Circle(SKETCH40_R)
    cut_extrude13 = extrude(amount=CUT_EXTRUDE13_DEPTH, both=True)


with BuildPart() as boss_extrude2_kept_piece_1:
    add(boss_extrude2_kept_piece.part)

    # Cut-Extrude13: cut by cut_extrude13_tool
    add(cut_extrude13_tool.part, mode=Mode.SUBTRACT)


with BuildPart() as body_5_1:
    add(body_5.part)

    # Cut-Extrude13: cut by cut_extrude13_tool
    add(cut_extrude13_tool.part, mode=Mode.SUBTRACT)


with BuildPart() as cirpattern3_tool:
    # CirPattern3: Cut-Extrude13 ×8 about axis
    cirpattern3_axis = Axis((0, 0, 0), (1, 0, 0))
    for i in range(1, CIRPATTERN3_COUNT):
        add(cut_extrude13.rotate(cirpattern3_axis, i * 360 / CIRPATTERN3_COUNT))


with BuildPart() as boss_extrude2_kept_piece_2:
    add(boss_extrude2_kept_piece_1.part)

    # CirPattern3: cut by cirpattern3_tool
    add(cirpattern3_tool.part, mode=Mode.SUBTRACT)

    # Sketch41 → Cut-Revolve2 (revolve, cut)
    with BuildSketch(Plane.XY, mode=Mode.PRIVATE) as cut_revolve2_sk:
        with BuildLine():
            Line((0, 37.338), (-2.1844, 37.338))
            ThreePointArc((-2.1844, 37.338), (-2.50768922, 37.47191078), (-2.6416, 37.7952))
            Line((-2.6416, 37.7952), (-2.6416, 40.9702))
            ThreePointArc((-2.6416, 40.9702), (-2.50768922, 41.29348922), (-2.1844, 41.4274))
            Line((-2.1844, 41.4274), (0, 41.4274))
            Line((0, 41.4274), (0, 37.338))
        make_face()
    revolve(cut_revolve2_sk.sketch.rotate(Axis((0, 0, 0), (1, 0, 0)), 90), axis=Axis((0, 0, 0), (1, 0, 0)), mode=Mode.SUBTRACT)


with BuildPart() as body_5_2:
    add(body_5_1.part)

    # CirPattern3: cut by cirpattern3_tool
    add(cirpattern3_tool.part, mode=Mode.SUBTRACT)


with BuildPart() as body_6:
    # Sketch44 → Revolve4 (revolve)
    with BuildSketch(Plane.XY, mode=Mode.PRIVATE) as revolve4_sk:
        with Locations((-0.8763, 39.6621)):
            Circle(SKETCH44_R)
    revolve(revolve4_sk.sketch.rotate(Axis((0, 0, 0), (1, 0, 0)), 90), axis=Axis((0, 0, 0), (1, 0, 0)))


with BuildPart() as body_7:
    # Mirror9: mirrored copy
    add(body_6.part.mirror(Plane(origin=(76.2, 0, 0), x_dir=(0, 0, 1), z_dir=(1, 0, 0))))


solid = Compound([body_3.part, body_3_2.part, body_4.part, boss_extrude2_kept_piece_2.part, body_5_2.part, body_6.part, body_7.part])
